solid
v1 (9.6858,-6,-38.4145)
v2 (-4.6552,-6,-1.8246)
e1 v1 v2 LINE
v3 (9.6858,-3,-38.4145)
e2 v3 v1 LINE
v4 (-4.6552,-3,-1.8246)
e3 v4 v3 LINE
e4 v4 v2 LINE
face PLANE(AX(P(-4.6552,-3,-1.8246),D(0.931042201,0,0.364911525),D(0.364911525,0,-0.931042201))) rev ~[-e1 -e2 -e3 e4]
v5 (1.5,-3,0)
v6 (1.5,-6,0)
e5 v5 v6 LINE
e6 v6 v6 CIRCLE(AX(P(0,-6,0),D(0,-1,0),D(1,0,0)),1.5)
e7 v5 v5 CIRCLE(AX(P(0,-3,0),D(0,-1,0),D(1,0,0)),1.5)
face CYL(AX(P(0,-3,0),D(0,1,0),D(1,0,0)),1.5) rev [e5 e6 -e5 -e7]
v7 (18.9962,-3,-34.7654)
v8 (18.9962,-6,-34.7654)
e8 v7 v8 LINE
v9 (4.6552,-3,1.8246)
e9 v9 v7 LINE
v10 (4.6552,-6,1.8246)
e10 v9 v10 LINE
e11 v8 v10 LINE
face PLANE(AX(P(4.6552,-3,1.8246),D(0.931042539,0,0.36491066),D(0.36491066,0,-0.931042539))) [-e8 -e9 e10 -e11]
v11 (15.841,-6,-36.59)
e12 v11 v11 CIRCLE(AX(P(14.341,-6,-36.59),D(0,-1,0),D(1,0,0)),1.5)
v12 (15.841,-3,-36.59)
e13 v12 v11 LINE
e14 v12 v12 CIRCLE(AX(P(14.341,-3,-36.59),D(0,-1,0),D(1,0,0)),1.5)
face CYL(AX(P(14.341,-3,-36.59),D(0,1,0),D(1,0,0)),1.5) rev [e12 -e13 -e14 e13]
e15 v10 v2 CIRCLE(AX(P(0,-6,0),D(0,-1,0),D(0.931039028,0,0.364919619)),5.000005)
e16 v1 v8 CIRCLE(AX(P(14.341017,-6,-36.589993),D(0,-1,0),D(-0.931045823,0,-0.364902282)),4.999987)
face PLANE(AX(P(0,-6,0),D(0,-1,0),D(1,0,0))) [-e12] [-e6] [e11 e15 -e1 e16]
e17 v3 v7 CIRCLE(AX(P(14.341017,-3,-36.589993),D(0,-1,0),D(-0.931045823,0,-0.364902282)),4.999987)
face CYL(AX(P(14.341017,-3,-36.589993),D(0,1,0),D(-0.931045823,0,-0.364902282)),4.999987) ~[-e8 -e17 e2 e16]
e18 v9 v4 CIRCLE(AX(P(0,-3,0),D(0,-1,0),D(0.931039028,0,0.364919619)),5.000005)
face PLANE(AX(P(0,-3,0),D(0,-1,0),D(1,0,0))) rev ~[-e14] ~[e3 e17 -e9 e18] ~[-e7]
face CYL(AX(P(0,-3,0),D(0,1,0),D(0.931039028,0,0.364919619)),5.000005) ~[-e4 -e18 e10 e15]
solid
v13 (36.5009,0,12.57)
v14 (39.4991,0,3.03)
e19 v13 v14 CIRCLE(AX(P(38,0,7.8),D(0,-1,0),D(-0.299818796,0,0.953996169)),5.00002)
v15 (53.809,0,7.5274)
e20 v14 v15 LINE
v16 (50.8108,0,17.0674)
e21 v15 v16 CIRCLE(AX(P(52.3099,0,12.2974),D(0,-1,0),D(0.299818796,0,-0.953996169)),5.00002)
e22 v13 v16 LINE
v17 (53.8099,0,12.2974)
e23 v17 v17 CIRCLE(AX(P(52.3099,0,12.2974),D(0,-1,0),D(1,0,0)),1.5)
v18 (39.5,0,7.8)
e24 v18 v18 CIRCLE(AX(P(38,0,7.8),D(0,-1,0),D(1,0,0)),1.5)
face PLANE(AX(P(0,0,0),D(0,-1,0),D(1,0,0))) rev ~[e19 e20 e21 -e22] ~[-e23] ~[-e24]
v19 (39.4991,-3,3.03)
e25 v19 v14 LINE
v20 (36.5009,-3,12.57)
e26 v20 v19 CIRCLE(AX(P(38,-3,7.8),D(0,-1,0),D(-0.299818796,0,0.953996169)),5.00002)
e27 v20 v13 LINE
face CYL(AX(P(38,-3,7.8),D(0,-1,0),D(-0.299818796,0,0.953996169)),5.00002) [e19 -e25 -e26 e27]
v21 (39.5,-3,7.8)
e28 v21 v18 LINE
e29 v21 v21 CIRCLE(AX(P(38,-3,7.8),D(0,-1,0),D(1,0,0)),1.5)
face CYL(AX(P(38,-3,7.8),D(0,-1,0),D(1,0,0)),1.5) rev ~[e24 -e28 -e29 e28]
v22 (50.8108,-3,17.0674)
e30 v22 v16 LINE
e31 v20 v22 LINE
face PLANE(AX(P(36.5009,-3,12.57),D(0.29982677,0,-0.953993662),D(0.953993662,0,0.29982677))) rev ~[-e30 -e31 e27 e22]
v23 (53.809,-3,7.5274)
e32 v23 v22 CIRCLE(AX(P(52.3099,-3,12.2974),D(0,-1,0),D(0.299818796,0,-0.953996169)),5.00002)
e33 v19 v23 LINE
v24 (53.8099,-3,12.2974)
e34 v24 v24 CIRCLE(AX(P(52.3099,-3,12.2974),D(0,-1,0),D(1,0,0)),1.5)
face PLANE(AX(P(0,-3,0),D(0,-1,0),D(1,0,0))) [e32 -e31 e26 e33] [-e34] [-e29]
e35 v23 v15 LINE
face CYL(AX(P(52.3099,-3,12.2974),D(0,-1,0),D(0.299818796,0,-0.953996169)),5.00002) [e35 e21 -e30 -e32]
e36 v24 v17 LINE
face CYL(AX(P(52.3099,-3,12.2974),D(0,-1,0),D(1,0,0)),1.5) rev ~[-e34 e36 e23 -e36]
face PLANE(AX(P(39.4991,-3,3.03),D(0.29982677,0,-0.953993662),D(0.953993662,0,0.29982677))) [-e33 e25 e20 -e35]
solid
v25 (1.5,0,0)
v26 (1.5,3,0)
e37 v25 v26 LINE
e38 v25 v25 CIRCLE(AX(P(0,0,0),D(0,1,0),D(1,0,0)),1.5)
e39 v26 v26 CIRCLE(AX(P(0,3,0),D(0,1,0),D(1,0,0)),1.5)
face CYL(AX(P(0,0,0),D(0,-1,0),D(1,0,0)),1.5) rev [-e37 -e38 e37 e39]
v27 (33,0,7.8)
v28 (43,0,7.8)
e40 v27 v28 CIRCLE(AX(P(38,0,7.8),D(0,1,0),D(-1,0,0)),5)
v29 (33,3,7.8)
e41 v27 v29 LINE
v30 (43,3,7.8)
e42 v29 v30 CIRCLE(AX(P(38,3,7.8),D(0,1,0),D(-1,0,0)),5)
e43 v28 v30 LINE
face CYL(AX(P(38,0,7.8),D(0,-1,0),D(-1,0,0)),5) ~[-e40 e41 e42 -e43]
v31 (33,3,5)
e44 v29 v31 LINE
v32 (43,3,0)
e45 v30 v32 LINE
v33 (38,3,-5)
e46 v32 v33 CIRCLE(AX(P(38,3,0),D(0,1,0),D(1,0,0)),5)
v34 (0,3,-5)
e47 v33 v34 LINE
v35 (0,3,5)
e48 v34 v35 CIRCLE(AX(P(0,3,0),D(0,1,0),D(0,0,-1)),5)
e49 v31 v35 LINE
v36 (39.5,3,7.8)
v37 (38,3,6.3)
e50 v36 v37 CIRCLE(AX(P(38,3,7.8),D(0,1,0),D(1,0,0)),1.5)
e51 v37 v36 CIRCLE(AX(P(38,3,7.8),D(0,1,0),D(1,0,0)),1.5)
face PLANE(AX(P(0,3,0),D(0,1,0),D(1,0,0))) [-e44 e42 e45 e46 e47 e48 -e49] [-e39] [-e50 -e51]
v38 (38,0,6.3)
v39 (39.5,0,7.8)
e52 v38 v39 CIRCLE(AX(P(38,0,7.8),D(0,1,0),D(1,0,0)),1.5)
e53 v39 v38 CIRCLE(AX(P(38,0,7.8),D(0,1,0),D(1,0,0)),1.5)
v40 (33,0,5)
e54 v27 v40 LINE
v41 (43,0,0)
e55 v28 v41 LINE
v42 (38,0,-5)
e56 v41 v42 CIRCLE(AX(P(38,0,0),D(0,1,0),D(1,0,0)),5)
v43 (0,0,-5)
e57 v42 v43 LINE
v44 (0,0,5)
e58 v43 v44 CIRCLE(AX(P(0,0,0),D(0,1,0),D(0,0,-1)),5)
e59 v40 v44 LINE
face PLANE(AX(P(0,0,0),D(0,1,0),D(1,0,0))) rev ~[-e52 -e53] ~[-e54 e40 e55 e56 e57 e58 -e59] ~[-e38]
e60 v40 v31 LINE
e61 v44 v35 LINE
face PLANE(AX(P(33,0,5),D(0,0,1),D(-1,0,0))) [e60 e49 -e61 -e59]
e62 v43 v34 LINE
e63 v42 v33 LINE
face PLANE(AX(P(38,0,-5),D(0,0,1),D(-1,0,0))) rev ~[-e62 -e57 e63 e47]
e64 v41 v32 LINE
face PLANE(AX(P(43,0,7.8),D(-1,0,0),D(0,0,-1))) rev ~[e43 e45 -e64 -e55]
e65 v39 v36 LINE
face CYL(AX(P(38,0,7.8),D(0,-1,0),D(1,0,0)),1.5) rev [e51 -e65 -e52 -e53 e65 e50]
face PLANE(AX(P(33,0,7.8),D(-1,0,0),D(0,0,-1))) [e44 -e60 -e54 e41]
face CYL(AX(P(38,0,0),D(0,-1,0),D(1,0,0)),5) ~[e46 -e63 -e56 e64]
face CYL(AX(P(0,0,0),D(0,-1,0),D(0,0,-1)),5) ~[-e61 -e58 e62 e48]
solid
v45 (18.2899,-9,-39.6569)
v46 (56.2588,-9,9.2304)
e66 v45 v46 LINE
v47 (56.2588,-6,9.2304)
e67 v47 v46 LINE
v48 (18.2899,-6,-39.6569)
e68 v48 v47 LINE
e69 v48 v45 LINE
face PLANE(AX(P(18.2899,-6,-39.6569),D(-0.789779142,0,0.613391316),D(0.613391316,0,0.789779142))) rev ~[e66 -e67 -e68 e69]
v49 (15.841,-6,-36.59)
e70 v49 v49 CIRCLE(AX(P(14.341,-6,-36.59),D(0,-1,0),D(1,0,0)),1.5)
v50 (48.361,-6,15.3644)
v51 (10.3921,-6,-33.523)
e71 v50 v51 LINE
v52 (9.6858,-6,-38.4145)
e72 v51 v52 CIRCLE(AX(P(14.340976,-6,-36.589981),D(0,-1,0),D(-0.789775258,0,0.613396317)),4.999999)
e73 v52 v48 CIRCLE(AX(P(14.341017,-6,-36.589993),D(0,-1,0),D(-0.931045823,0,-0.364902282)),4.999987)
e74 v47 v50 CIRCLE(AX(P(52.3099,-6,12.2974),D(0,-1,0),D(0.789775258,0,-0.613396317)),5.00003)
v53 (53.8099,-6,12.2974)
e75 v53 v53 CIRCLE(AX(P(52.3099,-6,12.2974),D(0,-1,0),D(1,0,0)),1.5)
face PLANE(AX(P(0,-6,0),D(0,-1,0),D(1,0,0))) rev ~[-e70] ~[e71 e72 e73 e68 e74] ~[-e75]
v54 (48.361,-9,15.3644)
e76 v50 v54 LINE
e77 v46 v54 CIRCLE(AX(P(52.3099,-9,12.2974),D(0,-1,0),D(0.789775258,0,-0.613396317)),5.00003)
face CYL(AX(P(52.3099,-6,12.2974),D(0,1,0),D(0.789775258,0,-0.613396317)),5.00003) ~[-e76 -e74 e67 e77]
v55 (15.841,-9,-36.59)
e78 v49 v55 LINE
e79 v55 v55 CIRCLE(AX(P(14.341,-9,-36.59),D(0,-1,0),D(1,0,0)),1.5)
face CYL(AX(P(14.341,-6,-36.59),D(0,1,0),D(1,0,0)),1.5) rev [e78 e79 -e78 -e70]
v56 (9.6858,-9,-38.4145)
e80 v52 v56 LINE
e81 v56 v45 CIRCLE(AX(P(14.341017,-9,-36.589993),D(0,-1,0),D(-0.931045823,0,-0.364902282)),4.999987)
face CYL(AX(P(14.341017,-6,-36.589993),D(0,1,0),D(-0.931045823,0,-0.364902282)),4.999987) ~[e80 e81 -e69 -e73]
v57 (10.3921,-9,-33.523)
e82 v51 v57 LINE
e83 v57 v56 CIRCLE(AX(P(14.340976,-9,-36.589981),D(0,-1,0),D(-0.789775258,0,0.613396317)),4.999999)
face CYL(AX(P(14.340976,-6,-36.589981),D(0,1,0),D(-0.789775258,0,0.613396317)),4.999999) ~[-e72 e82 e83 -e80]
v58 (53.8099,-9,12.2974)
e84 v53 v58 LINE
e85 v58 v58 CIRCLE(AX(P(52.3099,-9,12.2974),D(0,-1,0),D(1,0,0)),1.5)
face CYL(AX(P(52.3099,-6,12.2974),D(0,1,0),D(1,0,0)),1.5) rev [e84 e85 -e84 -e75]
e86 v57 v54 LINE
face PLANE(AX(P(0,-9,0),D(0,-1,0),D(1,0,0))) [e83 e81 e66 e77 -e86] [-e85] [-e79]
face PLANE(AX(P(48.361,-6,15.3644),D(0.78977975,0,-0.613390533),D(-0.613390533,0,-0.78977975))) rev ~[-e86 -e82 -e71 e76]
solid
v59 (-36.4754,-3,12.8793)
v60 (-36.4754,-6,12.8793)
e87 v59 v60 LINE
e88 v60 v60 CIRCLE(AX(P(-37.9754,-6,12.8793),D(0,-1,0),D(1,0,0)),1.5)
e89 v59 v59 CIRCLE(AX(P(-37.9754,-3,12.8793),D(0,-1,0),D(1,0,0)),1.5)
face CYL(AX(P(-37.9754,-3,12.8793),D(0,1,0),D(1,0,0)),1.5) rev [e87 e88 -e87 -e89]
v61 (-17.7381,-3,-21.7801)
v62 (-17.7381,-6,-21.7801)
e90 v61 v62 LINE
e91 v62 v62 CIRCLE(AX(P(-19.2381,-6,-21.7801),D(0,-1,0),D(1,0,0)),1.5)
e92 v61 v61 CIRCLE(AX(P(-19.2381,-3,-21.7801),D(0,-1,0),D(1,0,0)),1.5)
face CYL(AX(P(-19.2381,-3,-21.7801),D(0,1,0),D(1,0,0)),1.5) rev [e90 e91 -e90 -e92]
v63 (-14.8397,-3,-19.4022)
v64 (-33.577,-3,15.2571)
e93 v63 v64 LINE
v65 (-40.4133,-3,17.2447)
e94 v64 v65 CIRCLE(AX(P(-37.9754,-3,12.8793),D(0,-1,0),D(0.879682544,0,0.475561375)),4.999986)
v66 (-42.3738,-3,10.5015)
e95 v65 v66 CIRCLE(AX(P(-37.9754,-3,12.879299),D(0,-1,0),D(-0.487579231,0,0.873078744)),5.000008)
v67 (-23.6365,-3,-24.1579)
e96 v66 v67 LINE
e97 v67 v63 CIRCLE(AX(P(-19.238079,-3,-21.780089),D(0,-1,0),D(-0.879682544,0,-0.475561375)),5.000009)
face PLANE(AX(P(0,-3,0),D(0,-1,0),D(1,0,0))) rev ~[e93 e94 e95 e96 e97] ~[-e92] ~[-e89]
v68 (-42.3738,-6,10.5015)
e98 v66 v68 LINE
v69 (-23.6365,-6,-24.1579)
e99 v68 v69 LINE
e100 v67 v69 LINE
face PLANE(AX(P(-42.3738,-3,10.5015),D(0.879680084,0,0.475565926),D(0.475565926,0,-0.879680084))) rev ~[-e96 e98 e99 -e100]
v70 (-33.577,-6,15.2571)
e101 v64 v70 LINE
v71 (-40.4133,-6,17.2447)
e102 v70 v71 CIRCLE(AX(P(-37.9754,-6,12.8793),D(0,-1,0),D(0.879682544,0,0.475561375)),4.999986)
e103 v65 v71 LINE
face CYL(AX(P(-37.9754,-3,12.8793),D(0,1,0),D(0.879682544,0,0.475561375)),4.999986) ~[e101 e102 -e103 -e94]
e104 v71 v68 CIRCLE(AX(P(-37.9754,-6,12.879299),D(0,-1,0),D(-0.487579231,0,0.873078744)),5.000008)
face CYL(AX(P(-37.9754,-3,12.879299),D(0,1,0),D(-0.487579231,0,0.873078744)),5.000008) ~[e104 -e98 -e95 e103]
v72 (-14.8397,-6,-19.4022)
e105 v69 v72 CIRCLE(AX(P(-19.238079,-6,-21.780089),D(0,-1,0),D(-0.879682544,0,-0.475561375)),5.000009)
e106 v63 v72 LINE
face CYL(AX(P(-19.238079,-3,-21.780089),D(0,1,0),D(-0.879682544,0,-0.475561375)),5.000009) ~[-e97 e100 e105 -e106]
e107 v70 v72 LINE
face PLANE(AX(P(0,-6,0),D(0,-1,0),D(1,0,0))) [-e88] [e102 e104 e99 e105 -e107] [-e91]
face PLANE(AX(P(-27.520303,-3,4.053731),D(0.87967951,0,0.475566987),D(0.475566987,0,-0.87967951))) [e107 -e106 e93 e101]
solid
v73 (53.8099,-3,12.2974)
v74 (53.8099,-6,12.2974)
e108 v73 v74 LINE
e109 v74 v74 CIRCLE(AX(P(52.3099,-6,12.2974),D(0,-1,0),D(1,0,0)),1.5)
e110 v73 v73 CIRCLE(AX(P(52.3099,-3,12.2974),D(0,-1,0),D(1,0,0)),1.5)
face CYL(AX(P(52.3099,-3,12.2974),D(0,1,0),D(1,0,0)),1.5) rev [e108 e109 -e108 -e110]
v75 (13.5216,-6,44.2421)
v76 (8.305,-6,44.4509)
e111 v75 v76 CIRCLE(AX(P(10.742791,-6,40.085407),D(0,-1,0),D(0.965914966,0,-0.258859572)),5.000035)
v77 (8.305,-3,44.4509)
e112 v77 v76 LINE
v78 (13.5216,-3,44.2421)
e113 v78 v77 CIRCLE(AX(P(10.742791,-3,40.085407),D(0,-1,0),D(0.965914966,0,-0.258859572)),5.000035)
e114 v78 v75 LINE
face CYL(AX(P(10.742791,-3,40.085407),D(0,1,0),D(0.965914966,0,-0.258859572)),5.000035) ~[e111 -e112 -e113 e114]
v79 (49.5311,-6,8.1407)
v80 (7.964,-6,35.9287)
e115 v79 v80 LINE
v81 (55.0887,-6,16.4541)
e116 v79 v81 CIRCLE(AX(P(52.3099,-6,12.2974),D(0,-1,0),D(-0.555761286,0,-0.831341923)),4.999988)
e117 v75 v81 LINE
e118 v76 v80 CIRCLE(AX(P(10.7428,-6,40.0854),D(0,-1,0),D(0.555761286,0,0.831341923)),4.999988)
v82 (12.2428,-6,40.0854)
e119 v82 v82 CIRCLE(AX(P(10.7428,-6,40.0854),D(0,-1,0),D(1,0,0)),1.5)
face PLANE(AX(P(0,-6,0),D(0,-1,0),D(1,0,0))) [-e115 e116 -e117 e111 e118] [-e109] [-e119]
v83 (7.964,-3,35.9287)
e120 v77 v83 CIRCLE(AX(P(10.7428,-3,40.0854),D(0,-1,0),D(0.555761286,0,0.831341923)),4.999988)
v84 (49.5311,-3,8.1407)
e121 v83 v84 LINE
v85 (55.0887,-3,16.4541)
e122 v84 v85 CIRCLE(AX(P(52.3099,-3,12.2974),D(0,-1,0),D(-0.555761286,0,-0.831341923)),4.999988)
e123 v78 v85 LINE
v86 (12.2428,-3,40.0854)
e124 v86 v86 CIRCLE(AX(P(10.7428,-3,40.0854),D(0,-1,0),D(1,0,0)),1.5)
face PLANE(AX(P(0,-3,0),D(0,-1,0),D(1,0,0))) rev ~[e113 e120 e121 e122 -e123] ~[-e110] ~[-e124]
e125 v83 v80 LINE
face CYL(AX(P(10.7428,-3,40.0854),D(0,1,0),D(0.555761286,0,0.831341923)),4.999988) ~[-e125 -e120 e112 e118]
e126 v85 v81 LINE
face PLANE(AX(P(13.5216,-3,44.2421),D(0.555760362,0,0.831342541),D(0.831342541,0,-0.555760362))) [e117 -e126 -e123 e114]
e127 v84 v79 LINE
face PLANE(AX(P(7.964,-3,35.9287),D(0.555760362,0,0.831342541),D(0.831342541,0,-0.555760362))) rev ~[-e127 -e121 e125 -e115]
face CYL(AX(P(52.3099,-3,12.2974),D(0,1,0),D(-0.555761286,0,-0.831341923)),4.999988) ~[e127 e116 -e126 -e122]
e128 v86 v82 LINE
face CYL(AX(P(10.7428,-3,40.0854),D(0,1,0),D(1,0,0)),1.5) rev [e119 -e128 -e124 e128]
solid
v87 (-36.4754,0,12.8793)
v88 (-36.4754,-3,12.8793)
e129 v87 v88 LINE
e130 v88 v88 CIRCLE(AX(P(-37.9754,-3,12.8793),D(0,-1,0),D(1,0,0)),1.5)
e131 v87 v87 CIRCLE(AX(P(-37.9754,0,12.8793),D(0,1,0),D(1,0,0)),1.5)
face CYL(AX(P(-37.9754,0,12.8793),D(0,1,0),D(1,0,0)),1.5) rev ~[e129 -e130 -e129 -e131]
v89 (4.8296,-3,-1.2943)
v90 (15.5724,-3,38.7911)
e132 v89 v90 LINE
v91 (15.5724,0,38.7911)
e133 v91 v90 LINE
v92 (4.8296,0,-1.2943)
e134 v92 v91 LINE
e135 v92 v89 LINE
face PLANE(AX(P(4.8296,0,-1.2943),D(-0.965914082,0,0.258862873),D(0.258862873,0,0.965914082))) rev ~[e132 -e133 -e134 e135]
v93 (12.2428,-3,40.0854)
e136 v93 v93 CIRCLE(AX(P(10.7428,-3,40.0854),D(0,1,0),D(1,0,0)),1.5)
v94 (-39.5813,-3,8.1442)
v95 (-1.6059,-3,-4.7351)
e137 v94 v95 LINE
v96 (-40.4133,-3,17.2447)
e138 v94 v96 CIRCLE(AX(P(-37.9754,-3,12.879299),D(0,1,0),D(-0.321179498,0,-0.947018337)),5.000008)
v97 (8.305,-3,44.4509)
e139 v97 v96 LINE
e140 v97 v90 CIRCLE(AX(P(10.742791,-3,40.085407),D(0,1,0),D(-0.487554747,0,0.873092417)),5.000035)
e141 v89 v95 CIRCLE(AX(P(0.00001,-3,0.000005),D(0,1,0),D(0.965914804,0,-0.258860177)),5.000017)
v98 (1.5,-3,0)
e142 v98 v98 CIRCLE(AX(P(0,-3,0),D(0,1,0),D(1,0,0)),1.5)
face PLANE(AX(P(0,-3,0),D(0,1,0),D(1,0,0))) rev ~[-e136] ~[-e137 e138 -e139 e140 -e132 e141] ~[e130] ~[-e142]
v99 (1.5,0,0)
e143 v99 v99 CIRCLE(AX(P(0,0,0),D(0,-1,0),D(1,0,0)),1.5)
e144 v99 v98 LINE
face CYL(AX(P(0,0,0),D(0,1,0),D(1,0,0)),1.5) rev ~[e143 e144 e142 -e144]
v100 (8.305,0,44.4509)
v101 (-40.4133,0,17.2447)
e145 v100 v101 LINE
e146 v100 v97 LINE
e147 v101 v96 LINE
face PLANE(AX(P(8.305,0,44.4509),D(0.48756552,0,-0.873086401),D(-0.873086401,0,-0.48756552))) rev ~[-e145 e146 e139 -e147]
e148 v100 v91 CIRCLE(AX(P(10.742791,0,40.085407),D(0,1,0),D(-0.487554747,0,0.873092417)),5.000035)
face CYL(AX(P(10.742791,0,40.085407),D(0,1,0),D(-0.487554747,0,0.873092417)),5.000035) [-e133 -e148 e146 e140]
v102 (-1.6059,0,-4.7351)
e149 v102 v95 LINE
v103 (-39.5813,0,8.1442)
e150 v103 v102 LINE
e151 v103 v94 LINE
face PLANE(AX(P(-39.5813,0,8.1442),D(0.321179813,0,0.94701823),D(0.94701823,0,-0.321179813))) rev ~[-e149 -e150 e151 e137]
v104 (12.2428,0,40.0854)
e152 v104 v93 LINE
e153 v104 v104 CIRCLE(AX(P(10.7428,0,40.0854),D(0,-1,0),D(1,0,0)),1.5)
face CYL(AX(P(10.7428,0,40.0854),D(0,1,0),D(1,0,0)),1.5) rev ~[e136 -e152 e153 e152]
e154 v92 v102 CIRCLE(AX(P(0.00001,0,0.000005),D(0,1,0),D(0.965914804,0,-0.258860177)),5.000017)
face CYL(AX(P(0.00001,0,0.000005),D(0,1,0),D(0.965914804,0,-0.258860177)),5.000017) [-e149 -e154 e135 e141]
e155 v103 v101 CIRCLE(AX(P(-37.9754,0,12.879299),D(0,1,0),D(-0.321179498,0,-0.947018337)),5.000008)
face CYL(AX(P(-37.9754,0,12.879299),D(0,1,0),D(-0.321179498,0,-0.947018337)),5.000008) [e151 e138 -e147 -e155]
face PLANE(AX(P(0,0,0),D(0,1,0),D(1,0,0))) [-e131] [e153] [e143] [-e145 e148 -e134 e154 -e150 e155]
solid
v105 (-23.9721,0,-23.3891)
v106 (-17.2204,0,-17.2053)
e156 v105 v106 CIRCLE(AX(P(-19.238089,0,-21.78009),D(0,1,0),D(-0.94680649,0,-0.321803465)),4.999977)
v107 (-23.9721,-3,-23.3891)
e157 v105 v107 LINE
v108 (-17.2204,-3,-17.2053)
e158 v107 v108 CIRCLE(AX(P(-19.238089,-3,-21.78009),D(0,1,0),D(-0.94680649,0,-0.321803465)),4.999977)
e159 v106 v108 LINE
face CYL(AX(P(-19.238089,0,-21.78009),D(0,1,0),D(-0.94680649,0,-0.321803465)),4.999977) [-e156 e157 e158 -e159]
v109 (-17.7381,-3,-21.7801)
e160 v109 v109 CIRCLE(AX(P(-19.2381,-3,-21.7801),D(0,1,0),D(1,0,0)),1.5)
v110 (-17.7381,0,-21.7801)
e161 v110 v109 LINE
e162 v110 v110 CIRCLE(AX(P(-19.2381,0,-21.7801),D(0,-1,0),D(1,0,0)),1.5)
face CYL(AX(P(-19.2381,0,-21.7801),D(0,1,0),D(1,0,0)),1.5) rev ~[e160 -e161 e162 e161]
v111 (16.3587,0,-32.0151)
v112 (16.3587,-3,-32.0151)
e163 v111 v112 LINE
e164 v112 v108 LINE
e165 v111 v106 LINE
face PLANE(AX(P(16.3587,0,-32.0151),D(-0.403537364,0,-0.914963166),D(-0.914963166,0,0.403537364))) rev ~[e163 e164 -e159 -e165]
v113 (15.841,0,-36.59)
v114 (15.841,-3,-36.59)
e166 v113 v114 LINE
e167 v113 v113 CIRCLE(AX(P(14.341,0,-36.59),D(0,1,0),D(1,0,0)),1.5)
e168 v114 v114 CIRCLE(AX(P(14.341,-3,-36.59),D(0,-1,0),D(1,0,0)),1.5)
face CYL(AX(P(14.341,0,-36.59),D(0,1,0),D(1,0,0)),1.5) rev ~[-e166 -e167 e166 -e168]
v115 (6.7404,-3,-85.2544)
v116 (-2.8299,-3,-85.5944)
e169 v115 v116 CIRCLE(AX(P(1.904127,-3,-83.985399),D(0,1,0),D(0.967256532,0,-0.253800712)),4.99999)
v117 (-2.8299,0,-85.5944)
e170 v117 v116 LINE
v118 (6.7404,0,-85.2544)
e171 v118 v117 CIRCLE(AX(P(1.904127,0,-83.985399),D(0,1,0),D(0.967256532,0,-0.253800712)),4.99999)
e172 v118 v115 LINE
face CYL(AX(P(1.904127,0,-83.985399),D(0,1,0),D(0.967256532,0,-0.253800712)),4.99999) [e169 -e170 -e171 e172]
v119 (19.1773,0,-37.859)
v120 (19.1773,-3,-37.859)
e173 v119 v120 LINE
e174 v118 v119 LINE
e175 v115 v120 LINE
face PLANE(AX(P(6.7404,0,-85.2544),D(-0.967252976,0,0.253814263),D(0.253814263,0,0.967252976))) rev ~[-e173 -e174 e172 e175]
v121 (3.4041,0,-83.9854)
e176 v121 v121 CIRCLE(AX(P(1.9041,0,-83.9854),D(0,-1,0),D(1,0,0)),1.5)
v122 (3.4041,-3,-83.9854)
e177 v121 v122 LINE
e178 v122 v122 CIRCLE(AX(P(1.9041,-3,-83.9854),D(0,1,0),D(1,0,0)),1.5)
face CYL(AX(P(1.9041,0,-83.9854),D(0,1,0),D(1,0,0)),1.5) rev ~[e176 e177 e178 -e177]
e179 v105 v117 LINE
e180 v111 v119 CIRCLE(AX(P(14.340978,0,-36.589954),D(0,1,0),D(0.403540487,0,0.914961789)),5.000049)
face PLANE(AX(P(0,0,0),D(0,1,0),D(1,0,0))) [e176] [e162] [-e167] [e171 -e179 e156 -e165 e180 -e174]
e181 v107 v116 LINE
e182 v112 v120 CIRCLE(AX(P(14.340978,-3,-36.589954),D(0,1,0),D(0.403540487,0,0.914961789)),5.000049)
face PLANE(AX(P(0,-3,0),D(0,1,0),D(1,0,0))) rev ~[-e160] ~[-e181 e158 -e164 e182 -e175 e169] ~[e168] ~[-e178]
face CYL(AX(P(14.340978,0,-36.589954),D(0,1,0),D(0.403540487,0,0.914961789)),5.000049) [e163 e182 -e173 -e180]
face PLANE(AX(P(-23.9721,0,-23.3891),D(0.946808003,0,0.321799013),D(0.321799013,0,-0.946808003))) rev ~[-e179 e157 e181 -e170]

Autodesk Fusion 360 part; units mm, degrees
sketch "Sketch1" plane through (0, 0, 0) normal (0, 1, 0) x (1, 0, 0) in component "Leg"
  line L0 (0, 0) -> (38, 0)
  line L1 (38, 0) -> (38, -7.8)
  line L2 (38, -7.8) -> (52.3099, -12.2974)
  line L3 (0, 0) -> (10.7428, -40.0854)
  line L4 (10.7428, -40.0854) -> (-37.9754, -12.8793)
  line L5 (-37.9754, -12.8793) -> (0, 0)
  line L6 (0, 0) -> (14.341, 36.59)
  line L7 (14.341, 36.59) -> (-19.2381, 21.7801)
  line L8 (-19.2381, 21.7801) -> (-37.9754, -12.8793)
  line L9 (-19.2381, 21.7801) -> (1.9041, 83.9854)
  line L10 (1.9041, 83.9854) -> (14.341, 36.59)
  line L11 (52.3099, -12.2974) -> (14.341, 36.59)
  line L12 (10.7428, -40.0854) -> (52.3099, -12.2974)
  dimension "d16" = 55.8
  dimension "d18" = 40.1
  dimension "d20" = 36.7
  dimension "d21" = 39.4
  dimension "d22" = 65.7
  dimension "d23" = 49
  dimension "d24" = 39.3
  dimension "d25" = 38
  dimension "d26" = 61.9
  dimension "d27" = 50
  dimension "d29" = 7.8
  dimension "d30" = 41.5
  dimension "d31" = 15
sketch "Sketch2" plane through (0, 0, 0) normal (0, 1, 0) x (1, 0, 0) in component "Leg"
  line L0 (1.9041, 83.9854) -> (14.341, 36.59)
  line L1 (14.341, 36.59) -> (-19.2381, 21.7801)
  line L2 (-19.2381, 21.7801) -> (1.9041, 83.9854)
  line L3 (6.7404, 85.2544) -> (19.1773, 37.859)
  line L4 (16.3587, 32.0151) -> (-17.2204, 17.2053)
  line L5 (-23.9721, 23.3891) -> (-2.8299, 85.5944)
  arc A0 (6.7404, 85.2544) -> (-2.8299, 85.5944) centre (1.9041, 83.9854) ccw
  arc A1 (16.3587, 32.0151) -> (19.1773, 37.859) centre (14.341, 36.59) ccw
  arc A2 (-23.9721, 23.3891) -> (-17.2204, 17.2053) centre (-19.2381, 21.7801) ccw
  circle A3 centre (-19.2381, 21.7801) radius 1.5
  circle A4 centre (14.341, 36.59) radius 1.5
  circle A5 centre (1.9041, 83.9854) radius 1.5
  line L6 (10.7428, -40.0854) -> (-37.9754, -12.8793)
  line L7 (-37.9754, -12.8793) -> (0, 0)
  line L8 (0, 0) -> (10.7428, -40.0854)
  line L9 (4.8296, 1.2943) -> (15.5724, -38.7911)
  line L10 (8.305, -44.4509) -> (-40.4133, -17.2447)
  line L11 (-39.5813, -8.1442) -> (-1.6059, 4.7351)
  arc A6 (4.8296, 1.2943) -> (-1.6059, 4.7351) centre (0, 0) ccw
  arc A7 (8.305, -44.4509) -> (15.5724, -38.7911) centre (10.7428, -40.0854) ccw
  arc A8 (-39.5813, -8.1442) -> (-40.4133, -17.2447) centre (-37.9754, -12.8793) ccw
  circle A9 centre (-37.9754, -12.8793) radius 1.5
  circle A10 centre (0, 0) radius 1.5
  circle A11 centre (10.7428, -40.0854) radius 1.5
  dimension "d33" = 3
  dimension "d34" = 3
  dimension "d35" = 3
  dimension "d39" = 3
  dimension "d40" = 3
  dimension "d41" = 3
extrude "Extrude1" add sketch "Sketch2" against normal blind 3 contours L0 L1 L2 A3 A4 A5 | L3 L4 L5 A0 A1 A2 makes body 1 in component "Leg"
extrude "Extrude2" add sketch "Sketch2" against normal blind 3 separate body contours L6 L7 L8 A9 A10 A11 | L9 L10 L11 A6 A7 A8 makes body 2 in component "Leg"
sketch "Sketch3" plane through (0, -3, 0) normal (0, -1, 0) x (1, 0, 0) in component "Leg"
  circle A0 centre (10.7428, 40.0854) radius 1.5
  circle A1 centre (0, 0) radius 1.5
  circle A2 centre (-37.9754, 12.8793) radius 1.5
  arc A3 (-1.6059, -4.7351) -> (4.8296, -1.2943) centre (0, 0) ccw
  line L0 (4.8296, -1.2943) -> (15.5724, 38.7911)
  arc A4 (15.5724, 38.7911) -> (8.305, 44.4509) centre (10.7428, 40.0854) ccw
  line L1 (8.305, 44.4509) -> (-40.4133, 17.2447)
  arc A5 (-40.4133, 17.2447) -> (-39.5813, 8.1442) centre (-37.9754, 12.8793) ccw
  line L2 (-39.5813, 8.1442) -> (-1.6059, -4.7351)
  circle A6 centre (-37.9754, 12.8793) radius 1.5
  circle A7 centre (-19.2381, -21.7801) radius 1.5
  line L3 (-42.3738, 10.5015) -> (-23.6365, -24.1579)
  line L4 (-33.577, 15.2571) -> (-14.8397, -19.4022)
  arc A8 (-33.577, 15.2571) -> (-42.3738, 10.5015) centre (-37.9754, 12.8793) ccw
  arc A9 (-23.6365, -24.1579) -> (-14.8397, -19.4022) centre (-19.2381, -21.7801) ccw
  circle A10 centre (0, 0) radius 1.5
  circle A11 centre (14.341, -36.59) radius 1.5
  line L5 (4.6552, 1.8246) -> (18.9962, -34.7654)
  line L6 (-4.6552, -1.8246) -> (9.6858, -38.4145)
  arc A12 (4.6552, 1.8246) -> (-4.6552, -1.8246) centre (0, 0) ccw
  arc A13 (9.6858, -38.4145) -> (18.9962, -34.7654) centre (14.341, -36.59) ccw
  circle A14 centre (10.7428, 40.0854) radius 1.5
  circle A15 centre (52.3099, 12.2974) radius 1.5
  line L7 (7.964, 35.9287) -> (49.5311, 8.1407)
  line L8 (13.5216, 44.2421) -> (55.0887, 16.4541)
  arc A16 (13.5216, 44.2421) -> (7.964, 35.9287) centre (10.7428, 40.0854) ccw
  arc A17 (49.5311, 8.1407) -> (55.0887, 16.4541) centre (52.3099, 12.2974) ccw
  point P0 (-19.2381, -21.7801)
  point P1 (14.341, -36.59)
  point P2 (52.3099, 12.2974)
  dimension "d44" = 10
  dimension "d45" = 3
  dimension "d46" = 10
  dimension "d47" = 3
  dimension "d50" = 10
  dimension "d51" = 3
  dimension "d52" = 10
  dimension "d53" = 3
  dimension "d70" = 10
  dimension "d71" = 3
  dimension "d72" = 10
  dimension "d73" = 3
extrude "Extrude3" add sketch "Sketch3" along normal blind 3 separate body contours A5 L2 L3 L4 A9 | A5 L2 L4 A8 makes body 3 in component "Leg"
extrude "Extrude4" add sketch "Sketch3" along normal blind 3 separate body contours A3 L0 L2 L5 L6 A12 | A3 L0 L2 L5 L6 A13 makes body 4 in component "Leg"
sketch "Sketch4" plane through (0, 0, 0) normal (0, 1, 0) x (1, 0, 0) in component "Leg"
  circle A0 centre (0, 0) radius 1.5
  line L0 (0, 0) -> (38, 0)
  line L1 (38, 0) -> (38, -7.8)
  circle A1 centre (38, 0) radius 1.5
  line L2 (43, -7.8) -> (43, 0)
  line L3 (33, -7.8) -> (33, 0)
  line L4 (33, -5) -> (0, -5)
  line L5 (38, 5) -> (0, 5)
  arc A2 (33, -7.8) -> (43, -7.8) centre (38, -7.8) ccw
  arc A3 (43, 0) -> (38, 5) centre (38, 0) ccw
  arc A4 (0, 5) -> (0, -5) centre (0, 0) ccw
  circle A5 centre (38, -7.8) radius 1.5
  dimension "d56" = 10
  dimension "d57" = 3
  dimension "d58" = 10
  dimension "d59" = 3
  dimension "d60" = 10
  dimension "d61" = 3
extrude "Extrude5" add sketch "Sketch4" along normal blind 3 separate body makes body 5 in component "Leg"
sketch "Sketch5" plane through (0, -3, 0) normal (0, -1, 0) x (1, 0, 0) in component "Leg"
  circle A0 centre (10.7428, 40.0854) radius 1.5
  circle A1 centre (0, 0) radius 1.5
  circle A2 centre (-37.9754, 12.8793) radius 1.5
  arc A3 (-1.6059, -4.7351) -> (4.8296, -1.2943) centre (0, 0) ccw
  line L0 (4.8296, -1.2943) -> (15.5724, 38.7911)
  arc A4 (15.5724, 38.7911) -> (8.305, 44.4509) centre (10.7428, 40.0854) ccw
  line L1 (8.305, 44.4509) -> (-40.4133, 17.2447)
  arc A5 (-40.4133, 17.2447) -> (-39.5813, 8.1442) centre (-37.9754, 12.8793) ccw
  line L2 (-39.5813, 8.1442) -> (-1.6059, -4.7351)
  circle A6 centre (38, 7.8) radius 1.5
  circle A7 centre (52.3099, 12.2974) radius 1.5
  line L3 (36.5009, 12.57) -> (50.8108, 17.0674)
  line L4 (39.4991, 3.03) -> (53.809, 7.5274)
  arc A8 (36.5009, 12.57) -> (39.4991, 3.03) centre (38, 7.8) ccw
  arc A9 (53.809, 7.5274) -> (50.8108, 17.0674) centre (52.3099, 12.2974) ccw
  point P0 (38, 7.8)
  point P1 (52.3099, 12.2974)
  dimension "d64" = 10
  dimension "d65" = 3
  dimension "d66" = 10
  dimension "d67" = 3
extrude "Extrude6" add sketch "Sketch5" against normal blind 3 separate body contours L3 L4 A8 A9 makes body 6 in component "Leg"
extrude "Extrude7" add sketch "Sketch3" along normal blind 3 separate body contours L0 A4 L7 A16 | L0 A4 L7 L8 A17 makes body 7 in component "Leg"
extrude "Extrude8" add sketch "Sketch4" along normal blind 3 contours L0 L1 A1 | L0 L1 A1 bodies 5 in component "Leg"
sketch "Sketch6" plane through (0, -6, 0) normal (0, -1, 0) x (1, 0, 0) in component "Leg"
  circle A0 centre (14.341, -36.59) radius 1.5
  circle A1 centre (0, 0) radius 1.5
  arc A2 (4.6552, 1.8246) -> (-4.6552, -1.8246) centre (0, 0) ccw
  line L0 (-4.6552, -1.8246) -> (9.6858, -38.4145)
  arc A3 (9.6858, -38.4145) -> (18.9962, -34.7654) centre (14.341, -36.59) ccw
  line L1 (18.9962, -34.7654) -> (4.6552, 1.8246)
  circle A4 centre (14.341, -36.59) radius 1.5
  circle A5 centre (52.3099, 12.2974) radius 1.5
  line L2 (18.2899, -39.6569) -> (56.2588, 9.2304)
  line L3 (48.361, 15.3644) -> (10.3921, -33.523)
  arc A6 (56.2588, 9.2304) -> (48.361, 15.3644) centre (52.3099, 12.2974) ccw
  arc A7 (10.3921, -33.523) -> (18.2899, -39.6569) centre (14.341, -36.59) ccw
  point P0 (52.3099, 12.2974)
  dimension "d78" = 10
  dimension "d79" = 3
  dimension "d80" = 10
  dimension "d81" = 3
extrude "Extrude9" add sketch "Sketch6" along normal blind 3 separate body contours A3 L1 L2 L3 A6 | A3 L1 L3 A7 makes body 8 in component "Leg"
copy_body "Body->Comp1" bodies 1 removing the originals makes body 9 in component "Component"
copy_body "Body->Comp2" bodies 8 removing the originals makes body 10 in component "Component'"
copy_body "Body->Comp3" bodies 2 removing the originals makes body 11 in component "Component''"
copy_body "Body->Comp4" bodies 6 removing the originals makes body 12 in component "Component'''"
copy_body "Body->Comp5" bodies 7 removing the originals makes body 13 in component "Component''''"
copy_body "Body->Comp6" bodies 4 removing the originals makes body 14 in component "Component'''''"
copy_body "Body->Comp7" bodies 5 removing the originals makes body 15 in component "Component''''''"
copy_body "Body->Comp8" bodies 3 removing the originals makes body 16 in component "Component'''''''"
component "Leg" placed x (1, 0, 0) y (0, 1, 0) z (0, 0, 1) at (0, 0, 0)
component "Component'" placed x (1, 0, 0) y (0, 1, 0) z (0, 0, 1) at (0, 0, 0) in component "Leg"
component "Component''" placed x (1, 0, 0) y (0, 1, 0) z (0, 0, 1) at (0, 0, 0) in component "Leg"
component "Component'''" placed x (1, 0, 0) y (0, 1, 0) z (0, 0, 1) at (0, 0, 0) in component "Leg"
component "Component''''" placed x (1, 0, 0) y (0, 1, 0) z (0, 0, 1) at (0, 0, 0) in component "Leg"
component "Component'''''" placed x (1, 0, 0) y (0, 1, 0) z (0, 0, 1) at (0, 0, 0) in component "Leg"
component "Component'''''''" placed x (1, 0, 0) y (0, 1, 0) z (0, 0, 1) at (0, 0, 0) in component "Leg"
component "Component" placed x (1, 0, 0) y (0, 1, 0) z (0, 0, 1) at (0, 0, 0) in component "Leg"
component "Component''''''" placed x (1, 0, 0) y (0, 1, 0) z (0, 0, 1) at (0, 0, 0) in component "Leg"
equation "a_line = 38 mm"
equation "b_line = 41.5 mm"
equation "c_line = 39.3 mm"
equation "d_line = 40.1 mm"
equation "e_line = 55.8 mm"
equation "f_line = 39.4 mm"
equation "g_line = 36.7 mm"
equation "h_line = 65.7 mm"
equation "i_line = 49 mm"
equation "j_line = 50 mm"
equation "k_line = 61.9 mm"
equation "l_line = 7.8 mm"
equation "m_line = 15 mm"
equation "hole = 3 mm"
equation "d16 = e_line * multiplier"
equation "multiplier = 1"
equation "d18 = d_line * multiplier"
equation "d20 = g_line * multiplier"
equation "d21 = f_line * multiplier"
equation "d22 = h_line * multiplier"
equation "d23 = i_line * multiplier"
equation "d24 = c_line * multiplier"
equation "d25 = a_line * multiplier"
equation "d26 = k_line * multiplier"
equation "d27 = j_line * multiplier"
equation "d29 = l_line * multiplier"
equation "d30 = b_line * multiplier"
equation "d31 = m_line * multiplier"
equation "d33 = hole"
equation "d34 = hole"
equation "d35 = hole"
equation "d39 = hole"
equation "d40 = hole"
equation "d41 = hole"
equation "d45 = hole"
equation "d47 = hole"
equation "d51 = hole"
equation "d57 = hole"
equation "d59 = hole"
equation "d61 = hole"
equation "d65 = hole"
equation "d67 = hole"
equation "d71 = hole"
equation "d73 = hole"
equation "d79 = hole"
equation "d81 = hole"
